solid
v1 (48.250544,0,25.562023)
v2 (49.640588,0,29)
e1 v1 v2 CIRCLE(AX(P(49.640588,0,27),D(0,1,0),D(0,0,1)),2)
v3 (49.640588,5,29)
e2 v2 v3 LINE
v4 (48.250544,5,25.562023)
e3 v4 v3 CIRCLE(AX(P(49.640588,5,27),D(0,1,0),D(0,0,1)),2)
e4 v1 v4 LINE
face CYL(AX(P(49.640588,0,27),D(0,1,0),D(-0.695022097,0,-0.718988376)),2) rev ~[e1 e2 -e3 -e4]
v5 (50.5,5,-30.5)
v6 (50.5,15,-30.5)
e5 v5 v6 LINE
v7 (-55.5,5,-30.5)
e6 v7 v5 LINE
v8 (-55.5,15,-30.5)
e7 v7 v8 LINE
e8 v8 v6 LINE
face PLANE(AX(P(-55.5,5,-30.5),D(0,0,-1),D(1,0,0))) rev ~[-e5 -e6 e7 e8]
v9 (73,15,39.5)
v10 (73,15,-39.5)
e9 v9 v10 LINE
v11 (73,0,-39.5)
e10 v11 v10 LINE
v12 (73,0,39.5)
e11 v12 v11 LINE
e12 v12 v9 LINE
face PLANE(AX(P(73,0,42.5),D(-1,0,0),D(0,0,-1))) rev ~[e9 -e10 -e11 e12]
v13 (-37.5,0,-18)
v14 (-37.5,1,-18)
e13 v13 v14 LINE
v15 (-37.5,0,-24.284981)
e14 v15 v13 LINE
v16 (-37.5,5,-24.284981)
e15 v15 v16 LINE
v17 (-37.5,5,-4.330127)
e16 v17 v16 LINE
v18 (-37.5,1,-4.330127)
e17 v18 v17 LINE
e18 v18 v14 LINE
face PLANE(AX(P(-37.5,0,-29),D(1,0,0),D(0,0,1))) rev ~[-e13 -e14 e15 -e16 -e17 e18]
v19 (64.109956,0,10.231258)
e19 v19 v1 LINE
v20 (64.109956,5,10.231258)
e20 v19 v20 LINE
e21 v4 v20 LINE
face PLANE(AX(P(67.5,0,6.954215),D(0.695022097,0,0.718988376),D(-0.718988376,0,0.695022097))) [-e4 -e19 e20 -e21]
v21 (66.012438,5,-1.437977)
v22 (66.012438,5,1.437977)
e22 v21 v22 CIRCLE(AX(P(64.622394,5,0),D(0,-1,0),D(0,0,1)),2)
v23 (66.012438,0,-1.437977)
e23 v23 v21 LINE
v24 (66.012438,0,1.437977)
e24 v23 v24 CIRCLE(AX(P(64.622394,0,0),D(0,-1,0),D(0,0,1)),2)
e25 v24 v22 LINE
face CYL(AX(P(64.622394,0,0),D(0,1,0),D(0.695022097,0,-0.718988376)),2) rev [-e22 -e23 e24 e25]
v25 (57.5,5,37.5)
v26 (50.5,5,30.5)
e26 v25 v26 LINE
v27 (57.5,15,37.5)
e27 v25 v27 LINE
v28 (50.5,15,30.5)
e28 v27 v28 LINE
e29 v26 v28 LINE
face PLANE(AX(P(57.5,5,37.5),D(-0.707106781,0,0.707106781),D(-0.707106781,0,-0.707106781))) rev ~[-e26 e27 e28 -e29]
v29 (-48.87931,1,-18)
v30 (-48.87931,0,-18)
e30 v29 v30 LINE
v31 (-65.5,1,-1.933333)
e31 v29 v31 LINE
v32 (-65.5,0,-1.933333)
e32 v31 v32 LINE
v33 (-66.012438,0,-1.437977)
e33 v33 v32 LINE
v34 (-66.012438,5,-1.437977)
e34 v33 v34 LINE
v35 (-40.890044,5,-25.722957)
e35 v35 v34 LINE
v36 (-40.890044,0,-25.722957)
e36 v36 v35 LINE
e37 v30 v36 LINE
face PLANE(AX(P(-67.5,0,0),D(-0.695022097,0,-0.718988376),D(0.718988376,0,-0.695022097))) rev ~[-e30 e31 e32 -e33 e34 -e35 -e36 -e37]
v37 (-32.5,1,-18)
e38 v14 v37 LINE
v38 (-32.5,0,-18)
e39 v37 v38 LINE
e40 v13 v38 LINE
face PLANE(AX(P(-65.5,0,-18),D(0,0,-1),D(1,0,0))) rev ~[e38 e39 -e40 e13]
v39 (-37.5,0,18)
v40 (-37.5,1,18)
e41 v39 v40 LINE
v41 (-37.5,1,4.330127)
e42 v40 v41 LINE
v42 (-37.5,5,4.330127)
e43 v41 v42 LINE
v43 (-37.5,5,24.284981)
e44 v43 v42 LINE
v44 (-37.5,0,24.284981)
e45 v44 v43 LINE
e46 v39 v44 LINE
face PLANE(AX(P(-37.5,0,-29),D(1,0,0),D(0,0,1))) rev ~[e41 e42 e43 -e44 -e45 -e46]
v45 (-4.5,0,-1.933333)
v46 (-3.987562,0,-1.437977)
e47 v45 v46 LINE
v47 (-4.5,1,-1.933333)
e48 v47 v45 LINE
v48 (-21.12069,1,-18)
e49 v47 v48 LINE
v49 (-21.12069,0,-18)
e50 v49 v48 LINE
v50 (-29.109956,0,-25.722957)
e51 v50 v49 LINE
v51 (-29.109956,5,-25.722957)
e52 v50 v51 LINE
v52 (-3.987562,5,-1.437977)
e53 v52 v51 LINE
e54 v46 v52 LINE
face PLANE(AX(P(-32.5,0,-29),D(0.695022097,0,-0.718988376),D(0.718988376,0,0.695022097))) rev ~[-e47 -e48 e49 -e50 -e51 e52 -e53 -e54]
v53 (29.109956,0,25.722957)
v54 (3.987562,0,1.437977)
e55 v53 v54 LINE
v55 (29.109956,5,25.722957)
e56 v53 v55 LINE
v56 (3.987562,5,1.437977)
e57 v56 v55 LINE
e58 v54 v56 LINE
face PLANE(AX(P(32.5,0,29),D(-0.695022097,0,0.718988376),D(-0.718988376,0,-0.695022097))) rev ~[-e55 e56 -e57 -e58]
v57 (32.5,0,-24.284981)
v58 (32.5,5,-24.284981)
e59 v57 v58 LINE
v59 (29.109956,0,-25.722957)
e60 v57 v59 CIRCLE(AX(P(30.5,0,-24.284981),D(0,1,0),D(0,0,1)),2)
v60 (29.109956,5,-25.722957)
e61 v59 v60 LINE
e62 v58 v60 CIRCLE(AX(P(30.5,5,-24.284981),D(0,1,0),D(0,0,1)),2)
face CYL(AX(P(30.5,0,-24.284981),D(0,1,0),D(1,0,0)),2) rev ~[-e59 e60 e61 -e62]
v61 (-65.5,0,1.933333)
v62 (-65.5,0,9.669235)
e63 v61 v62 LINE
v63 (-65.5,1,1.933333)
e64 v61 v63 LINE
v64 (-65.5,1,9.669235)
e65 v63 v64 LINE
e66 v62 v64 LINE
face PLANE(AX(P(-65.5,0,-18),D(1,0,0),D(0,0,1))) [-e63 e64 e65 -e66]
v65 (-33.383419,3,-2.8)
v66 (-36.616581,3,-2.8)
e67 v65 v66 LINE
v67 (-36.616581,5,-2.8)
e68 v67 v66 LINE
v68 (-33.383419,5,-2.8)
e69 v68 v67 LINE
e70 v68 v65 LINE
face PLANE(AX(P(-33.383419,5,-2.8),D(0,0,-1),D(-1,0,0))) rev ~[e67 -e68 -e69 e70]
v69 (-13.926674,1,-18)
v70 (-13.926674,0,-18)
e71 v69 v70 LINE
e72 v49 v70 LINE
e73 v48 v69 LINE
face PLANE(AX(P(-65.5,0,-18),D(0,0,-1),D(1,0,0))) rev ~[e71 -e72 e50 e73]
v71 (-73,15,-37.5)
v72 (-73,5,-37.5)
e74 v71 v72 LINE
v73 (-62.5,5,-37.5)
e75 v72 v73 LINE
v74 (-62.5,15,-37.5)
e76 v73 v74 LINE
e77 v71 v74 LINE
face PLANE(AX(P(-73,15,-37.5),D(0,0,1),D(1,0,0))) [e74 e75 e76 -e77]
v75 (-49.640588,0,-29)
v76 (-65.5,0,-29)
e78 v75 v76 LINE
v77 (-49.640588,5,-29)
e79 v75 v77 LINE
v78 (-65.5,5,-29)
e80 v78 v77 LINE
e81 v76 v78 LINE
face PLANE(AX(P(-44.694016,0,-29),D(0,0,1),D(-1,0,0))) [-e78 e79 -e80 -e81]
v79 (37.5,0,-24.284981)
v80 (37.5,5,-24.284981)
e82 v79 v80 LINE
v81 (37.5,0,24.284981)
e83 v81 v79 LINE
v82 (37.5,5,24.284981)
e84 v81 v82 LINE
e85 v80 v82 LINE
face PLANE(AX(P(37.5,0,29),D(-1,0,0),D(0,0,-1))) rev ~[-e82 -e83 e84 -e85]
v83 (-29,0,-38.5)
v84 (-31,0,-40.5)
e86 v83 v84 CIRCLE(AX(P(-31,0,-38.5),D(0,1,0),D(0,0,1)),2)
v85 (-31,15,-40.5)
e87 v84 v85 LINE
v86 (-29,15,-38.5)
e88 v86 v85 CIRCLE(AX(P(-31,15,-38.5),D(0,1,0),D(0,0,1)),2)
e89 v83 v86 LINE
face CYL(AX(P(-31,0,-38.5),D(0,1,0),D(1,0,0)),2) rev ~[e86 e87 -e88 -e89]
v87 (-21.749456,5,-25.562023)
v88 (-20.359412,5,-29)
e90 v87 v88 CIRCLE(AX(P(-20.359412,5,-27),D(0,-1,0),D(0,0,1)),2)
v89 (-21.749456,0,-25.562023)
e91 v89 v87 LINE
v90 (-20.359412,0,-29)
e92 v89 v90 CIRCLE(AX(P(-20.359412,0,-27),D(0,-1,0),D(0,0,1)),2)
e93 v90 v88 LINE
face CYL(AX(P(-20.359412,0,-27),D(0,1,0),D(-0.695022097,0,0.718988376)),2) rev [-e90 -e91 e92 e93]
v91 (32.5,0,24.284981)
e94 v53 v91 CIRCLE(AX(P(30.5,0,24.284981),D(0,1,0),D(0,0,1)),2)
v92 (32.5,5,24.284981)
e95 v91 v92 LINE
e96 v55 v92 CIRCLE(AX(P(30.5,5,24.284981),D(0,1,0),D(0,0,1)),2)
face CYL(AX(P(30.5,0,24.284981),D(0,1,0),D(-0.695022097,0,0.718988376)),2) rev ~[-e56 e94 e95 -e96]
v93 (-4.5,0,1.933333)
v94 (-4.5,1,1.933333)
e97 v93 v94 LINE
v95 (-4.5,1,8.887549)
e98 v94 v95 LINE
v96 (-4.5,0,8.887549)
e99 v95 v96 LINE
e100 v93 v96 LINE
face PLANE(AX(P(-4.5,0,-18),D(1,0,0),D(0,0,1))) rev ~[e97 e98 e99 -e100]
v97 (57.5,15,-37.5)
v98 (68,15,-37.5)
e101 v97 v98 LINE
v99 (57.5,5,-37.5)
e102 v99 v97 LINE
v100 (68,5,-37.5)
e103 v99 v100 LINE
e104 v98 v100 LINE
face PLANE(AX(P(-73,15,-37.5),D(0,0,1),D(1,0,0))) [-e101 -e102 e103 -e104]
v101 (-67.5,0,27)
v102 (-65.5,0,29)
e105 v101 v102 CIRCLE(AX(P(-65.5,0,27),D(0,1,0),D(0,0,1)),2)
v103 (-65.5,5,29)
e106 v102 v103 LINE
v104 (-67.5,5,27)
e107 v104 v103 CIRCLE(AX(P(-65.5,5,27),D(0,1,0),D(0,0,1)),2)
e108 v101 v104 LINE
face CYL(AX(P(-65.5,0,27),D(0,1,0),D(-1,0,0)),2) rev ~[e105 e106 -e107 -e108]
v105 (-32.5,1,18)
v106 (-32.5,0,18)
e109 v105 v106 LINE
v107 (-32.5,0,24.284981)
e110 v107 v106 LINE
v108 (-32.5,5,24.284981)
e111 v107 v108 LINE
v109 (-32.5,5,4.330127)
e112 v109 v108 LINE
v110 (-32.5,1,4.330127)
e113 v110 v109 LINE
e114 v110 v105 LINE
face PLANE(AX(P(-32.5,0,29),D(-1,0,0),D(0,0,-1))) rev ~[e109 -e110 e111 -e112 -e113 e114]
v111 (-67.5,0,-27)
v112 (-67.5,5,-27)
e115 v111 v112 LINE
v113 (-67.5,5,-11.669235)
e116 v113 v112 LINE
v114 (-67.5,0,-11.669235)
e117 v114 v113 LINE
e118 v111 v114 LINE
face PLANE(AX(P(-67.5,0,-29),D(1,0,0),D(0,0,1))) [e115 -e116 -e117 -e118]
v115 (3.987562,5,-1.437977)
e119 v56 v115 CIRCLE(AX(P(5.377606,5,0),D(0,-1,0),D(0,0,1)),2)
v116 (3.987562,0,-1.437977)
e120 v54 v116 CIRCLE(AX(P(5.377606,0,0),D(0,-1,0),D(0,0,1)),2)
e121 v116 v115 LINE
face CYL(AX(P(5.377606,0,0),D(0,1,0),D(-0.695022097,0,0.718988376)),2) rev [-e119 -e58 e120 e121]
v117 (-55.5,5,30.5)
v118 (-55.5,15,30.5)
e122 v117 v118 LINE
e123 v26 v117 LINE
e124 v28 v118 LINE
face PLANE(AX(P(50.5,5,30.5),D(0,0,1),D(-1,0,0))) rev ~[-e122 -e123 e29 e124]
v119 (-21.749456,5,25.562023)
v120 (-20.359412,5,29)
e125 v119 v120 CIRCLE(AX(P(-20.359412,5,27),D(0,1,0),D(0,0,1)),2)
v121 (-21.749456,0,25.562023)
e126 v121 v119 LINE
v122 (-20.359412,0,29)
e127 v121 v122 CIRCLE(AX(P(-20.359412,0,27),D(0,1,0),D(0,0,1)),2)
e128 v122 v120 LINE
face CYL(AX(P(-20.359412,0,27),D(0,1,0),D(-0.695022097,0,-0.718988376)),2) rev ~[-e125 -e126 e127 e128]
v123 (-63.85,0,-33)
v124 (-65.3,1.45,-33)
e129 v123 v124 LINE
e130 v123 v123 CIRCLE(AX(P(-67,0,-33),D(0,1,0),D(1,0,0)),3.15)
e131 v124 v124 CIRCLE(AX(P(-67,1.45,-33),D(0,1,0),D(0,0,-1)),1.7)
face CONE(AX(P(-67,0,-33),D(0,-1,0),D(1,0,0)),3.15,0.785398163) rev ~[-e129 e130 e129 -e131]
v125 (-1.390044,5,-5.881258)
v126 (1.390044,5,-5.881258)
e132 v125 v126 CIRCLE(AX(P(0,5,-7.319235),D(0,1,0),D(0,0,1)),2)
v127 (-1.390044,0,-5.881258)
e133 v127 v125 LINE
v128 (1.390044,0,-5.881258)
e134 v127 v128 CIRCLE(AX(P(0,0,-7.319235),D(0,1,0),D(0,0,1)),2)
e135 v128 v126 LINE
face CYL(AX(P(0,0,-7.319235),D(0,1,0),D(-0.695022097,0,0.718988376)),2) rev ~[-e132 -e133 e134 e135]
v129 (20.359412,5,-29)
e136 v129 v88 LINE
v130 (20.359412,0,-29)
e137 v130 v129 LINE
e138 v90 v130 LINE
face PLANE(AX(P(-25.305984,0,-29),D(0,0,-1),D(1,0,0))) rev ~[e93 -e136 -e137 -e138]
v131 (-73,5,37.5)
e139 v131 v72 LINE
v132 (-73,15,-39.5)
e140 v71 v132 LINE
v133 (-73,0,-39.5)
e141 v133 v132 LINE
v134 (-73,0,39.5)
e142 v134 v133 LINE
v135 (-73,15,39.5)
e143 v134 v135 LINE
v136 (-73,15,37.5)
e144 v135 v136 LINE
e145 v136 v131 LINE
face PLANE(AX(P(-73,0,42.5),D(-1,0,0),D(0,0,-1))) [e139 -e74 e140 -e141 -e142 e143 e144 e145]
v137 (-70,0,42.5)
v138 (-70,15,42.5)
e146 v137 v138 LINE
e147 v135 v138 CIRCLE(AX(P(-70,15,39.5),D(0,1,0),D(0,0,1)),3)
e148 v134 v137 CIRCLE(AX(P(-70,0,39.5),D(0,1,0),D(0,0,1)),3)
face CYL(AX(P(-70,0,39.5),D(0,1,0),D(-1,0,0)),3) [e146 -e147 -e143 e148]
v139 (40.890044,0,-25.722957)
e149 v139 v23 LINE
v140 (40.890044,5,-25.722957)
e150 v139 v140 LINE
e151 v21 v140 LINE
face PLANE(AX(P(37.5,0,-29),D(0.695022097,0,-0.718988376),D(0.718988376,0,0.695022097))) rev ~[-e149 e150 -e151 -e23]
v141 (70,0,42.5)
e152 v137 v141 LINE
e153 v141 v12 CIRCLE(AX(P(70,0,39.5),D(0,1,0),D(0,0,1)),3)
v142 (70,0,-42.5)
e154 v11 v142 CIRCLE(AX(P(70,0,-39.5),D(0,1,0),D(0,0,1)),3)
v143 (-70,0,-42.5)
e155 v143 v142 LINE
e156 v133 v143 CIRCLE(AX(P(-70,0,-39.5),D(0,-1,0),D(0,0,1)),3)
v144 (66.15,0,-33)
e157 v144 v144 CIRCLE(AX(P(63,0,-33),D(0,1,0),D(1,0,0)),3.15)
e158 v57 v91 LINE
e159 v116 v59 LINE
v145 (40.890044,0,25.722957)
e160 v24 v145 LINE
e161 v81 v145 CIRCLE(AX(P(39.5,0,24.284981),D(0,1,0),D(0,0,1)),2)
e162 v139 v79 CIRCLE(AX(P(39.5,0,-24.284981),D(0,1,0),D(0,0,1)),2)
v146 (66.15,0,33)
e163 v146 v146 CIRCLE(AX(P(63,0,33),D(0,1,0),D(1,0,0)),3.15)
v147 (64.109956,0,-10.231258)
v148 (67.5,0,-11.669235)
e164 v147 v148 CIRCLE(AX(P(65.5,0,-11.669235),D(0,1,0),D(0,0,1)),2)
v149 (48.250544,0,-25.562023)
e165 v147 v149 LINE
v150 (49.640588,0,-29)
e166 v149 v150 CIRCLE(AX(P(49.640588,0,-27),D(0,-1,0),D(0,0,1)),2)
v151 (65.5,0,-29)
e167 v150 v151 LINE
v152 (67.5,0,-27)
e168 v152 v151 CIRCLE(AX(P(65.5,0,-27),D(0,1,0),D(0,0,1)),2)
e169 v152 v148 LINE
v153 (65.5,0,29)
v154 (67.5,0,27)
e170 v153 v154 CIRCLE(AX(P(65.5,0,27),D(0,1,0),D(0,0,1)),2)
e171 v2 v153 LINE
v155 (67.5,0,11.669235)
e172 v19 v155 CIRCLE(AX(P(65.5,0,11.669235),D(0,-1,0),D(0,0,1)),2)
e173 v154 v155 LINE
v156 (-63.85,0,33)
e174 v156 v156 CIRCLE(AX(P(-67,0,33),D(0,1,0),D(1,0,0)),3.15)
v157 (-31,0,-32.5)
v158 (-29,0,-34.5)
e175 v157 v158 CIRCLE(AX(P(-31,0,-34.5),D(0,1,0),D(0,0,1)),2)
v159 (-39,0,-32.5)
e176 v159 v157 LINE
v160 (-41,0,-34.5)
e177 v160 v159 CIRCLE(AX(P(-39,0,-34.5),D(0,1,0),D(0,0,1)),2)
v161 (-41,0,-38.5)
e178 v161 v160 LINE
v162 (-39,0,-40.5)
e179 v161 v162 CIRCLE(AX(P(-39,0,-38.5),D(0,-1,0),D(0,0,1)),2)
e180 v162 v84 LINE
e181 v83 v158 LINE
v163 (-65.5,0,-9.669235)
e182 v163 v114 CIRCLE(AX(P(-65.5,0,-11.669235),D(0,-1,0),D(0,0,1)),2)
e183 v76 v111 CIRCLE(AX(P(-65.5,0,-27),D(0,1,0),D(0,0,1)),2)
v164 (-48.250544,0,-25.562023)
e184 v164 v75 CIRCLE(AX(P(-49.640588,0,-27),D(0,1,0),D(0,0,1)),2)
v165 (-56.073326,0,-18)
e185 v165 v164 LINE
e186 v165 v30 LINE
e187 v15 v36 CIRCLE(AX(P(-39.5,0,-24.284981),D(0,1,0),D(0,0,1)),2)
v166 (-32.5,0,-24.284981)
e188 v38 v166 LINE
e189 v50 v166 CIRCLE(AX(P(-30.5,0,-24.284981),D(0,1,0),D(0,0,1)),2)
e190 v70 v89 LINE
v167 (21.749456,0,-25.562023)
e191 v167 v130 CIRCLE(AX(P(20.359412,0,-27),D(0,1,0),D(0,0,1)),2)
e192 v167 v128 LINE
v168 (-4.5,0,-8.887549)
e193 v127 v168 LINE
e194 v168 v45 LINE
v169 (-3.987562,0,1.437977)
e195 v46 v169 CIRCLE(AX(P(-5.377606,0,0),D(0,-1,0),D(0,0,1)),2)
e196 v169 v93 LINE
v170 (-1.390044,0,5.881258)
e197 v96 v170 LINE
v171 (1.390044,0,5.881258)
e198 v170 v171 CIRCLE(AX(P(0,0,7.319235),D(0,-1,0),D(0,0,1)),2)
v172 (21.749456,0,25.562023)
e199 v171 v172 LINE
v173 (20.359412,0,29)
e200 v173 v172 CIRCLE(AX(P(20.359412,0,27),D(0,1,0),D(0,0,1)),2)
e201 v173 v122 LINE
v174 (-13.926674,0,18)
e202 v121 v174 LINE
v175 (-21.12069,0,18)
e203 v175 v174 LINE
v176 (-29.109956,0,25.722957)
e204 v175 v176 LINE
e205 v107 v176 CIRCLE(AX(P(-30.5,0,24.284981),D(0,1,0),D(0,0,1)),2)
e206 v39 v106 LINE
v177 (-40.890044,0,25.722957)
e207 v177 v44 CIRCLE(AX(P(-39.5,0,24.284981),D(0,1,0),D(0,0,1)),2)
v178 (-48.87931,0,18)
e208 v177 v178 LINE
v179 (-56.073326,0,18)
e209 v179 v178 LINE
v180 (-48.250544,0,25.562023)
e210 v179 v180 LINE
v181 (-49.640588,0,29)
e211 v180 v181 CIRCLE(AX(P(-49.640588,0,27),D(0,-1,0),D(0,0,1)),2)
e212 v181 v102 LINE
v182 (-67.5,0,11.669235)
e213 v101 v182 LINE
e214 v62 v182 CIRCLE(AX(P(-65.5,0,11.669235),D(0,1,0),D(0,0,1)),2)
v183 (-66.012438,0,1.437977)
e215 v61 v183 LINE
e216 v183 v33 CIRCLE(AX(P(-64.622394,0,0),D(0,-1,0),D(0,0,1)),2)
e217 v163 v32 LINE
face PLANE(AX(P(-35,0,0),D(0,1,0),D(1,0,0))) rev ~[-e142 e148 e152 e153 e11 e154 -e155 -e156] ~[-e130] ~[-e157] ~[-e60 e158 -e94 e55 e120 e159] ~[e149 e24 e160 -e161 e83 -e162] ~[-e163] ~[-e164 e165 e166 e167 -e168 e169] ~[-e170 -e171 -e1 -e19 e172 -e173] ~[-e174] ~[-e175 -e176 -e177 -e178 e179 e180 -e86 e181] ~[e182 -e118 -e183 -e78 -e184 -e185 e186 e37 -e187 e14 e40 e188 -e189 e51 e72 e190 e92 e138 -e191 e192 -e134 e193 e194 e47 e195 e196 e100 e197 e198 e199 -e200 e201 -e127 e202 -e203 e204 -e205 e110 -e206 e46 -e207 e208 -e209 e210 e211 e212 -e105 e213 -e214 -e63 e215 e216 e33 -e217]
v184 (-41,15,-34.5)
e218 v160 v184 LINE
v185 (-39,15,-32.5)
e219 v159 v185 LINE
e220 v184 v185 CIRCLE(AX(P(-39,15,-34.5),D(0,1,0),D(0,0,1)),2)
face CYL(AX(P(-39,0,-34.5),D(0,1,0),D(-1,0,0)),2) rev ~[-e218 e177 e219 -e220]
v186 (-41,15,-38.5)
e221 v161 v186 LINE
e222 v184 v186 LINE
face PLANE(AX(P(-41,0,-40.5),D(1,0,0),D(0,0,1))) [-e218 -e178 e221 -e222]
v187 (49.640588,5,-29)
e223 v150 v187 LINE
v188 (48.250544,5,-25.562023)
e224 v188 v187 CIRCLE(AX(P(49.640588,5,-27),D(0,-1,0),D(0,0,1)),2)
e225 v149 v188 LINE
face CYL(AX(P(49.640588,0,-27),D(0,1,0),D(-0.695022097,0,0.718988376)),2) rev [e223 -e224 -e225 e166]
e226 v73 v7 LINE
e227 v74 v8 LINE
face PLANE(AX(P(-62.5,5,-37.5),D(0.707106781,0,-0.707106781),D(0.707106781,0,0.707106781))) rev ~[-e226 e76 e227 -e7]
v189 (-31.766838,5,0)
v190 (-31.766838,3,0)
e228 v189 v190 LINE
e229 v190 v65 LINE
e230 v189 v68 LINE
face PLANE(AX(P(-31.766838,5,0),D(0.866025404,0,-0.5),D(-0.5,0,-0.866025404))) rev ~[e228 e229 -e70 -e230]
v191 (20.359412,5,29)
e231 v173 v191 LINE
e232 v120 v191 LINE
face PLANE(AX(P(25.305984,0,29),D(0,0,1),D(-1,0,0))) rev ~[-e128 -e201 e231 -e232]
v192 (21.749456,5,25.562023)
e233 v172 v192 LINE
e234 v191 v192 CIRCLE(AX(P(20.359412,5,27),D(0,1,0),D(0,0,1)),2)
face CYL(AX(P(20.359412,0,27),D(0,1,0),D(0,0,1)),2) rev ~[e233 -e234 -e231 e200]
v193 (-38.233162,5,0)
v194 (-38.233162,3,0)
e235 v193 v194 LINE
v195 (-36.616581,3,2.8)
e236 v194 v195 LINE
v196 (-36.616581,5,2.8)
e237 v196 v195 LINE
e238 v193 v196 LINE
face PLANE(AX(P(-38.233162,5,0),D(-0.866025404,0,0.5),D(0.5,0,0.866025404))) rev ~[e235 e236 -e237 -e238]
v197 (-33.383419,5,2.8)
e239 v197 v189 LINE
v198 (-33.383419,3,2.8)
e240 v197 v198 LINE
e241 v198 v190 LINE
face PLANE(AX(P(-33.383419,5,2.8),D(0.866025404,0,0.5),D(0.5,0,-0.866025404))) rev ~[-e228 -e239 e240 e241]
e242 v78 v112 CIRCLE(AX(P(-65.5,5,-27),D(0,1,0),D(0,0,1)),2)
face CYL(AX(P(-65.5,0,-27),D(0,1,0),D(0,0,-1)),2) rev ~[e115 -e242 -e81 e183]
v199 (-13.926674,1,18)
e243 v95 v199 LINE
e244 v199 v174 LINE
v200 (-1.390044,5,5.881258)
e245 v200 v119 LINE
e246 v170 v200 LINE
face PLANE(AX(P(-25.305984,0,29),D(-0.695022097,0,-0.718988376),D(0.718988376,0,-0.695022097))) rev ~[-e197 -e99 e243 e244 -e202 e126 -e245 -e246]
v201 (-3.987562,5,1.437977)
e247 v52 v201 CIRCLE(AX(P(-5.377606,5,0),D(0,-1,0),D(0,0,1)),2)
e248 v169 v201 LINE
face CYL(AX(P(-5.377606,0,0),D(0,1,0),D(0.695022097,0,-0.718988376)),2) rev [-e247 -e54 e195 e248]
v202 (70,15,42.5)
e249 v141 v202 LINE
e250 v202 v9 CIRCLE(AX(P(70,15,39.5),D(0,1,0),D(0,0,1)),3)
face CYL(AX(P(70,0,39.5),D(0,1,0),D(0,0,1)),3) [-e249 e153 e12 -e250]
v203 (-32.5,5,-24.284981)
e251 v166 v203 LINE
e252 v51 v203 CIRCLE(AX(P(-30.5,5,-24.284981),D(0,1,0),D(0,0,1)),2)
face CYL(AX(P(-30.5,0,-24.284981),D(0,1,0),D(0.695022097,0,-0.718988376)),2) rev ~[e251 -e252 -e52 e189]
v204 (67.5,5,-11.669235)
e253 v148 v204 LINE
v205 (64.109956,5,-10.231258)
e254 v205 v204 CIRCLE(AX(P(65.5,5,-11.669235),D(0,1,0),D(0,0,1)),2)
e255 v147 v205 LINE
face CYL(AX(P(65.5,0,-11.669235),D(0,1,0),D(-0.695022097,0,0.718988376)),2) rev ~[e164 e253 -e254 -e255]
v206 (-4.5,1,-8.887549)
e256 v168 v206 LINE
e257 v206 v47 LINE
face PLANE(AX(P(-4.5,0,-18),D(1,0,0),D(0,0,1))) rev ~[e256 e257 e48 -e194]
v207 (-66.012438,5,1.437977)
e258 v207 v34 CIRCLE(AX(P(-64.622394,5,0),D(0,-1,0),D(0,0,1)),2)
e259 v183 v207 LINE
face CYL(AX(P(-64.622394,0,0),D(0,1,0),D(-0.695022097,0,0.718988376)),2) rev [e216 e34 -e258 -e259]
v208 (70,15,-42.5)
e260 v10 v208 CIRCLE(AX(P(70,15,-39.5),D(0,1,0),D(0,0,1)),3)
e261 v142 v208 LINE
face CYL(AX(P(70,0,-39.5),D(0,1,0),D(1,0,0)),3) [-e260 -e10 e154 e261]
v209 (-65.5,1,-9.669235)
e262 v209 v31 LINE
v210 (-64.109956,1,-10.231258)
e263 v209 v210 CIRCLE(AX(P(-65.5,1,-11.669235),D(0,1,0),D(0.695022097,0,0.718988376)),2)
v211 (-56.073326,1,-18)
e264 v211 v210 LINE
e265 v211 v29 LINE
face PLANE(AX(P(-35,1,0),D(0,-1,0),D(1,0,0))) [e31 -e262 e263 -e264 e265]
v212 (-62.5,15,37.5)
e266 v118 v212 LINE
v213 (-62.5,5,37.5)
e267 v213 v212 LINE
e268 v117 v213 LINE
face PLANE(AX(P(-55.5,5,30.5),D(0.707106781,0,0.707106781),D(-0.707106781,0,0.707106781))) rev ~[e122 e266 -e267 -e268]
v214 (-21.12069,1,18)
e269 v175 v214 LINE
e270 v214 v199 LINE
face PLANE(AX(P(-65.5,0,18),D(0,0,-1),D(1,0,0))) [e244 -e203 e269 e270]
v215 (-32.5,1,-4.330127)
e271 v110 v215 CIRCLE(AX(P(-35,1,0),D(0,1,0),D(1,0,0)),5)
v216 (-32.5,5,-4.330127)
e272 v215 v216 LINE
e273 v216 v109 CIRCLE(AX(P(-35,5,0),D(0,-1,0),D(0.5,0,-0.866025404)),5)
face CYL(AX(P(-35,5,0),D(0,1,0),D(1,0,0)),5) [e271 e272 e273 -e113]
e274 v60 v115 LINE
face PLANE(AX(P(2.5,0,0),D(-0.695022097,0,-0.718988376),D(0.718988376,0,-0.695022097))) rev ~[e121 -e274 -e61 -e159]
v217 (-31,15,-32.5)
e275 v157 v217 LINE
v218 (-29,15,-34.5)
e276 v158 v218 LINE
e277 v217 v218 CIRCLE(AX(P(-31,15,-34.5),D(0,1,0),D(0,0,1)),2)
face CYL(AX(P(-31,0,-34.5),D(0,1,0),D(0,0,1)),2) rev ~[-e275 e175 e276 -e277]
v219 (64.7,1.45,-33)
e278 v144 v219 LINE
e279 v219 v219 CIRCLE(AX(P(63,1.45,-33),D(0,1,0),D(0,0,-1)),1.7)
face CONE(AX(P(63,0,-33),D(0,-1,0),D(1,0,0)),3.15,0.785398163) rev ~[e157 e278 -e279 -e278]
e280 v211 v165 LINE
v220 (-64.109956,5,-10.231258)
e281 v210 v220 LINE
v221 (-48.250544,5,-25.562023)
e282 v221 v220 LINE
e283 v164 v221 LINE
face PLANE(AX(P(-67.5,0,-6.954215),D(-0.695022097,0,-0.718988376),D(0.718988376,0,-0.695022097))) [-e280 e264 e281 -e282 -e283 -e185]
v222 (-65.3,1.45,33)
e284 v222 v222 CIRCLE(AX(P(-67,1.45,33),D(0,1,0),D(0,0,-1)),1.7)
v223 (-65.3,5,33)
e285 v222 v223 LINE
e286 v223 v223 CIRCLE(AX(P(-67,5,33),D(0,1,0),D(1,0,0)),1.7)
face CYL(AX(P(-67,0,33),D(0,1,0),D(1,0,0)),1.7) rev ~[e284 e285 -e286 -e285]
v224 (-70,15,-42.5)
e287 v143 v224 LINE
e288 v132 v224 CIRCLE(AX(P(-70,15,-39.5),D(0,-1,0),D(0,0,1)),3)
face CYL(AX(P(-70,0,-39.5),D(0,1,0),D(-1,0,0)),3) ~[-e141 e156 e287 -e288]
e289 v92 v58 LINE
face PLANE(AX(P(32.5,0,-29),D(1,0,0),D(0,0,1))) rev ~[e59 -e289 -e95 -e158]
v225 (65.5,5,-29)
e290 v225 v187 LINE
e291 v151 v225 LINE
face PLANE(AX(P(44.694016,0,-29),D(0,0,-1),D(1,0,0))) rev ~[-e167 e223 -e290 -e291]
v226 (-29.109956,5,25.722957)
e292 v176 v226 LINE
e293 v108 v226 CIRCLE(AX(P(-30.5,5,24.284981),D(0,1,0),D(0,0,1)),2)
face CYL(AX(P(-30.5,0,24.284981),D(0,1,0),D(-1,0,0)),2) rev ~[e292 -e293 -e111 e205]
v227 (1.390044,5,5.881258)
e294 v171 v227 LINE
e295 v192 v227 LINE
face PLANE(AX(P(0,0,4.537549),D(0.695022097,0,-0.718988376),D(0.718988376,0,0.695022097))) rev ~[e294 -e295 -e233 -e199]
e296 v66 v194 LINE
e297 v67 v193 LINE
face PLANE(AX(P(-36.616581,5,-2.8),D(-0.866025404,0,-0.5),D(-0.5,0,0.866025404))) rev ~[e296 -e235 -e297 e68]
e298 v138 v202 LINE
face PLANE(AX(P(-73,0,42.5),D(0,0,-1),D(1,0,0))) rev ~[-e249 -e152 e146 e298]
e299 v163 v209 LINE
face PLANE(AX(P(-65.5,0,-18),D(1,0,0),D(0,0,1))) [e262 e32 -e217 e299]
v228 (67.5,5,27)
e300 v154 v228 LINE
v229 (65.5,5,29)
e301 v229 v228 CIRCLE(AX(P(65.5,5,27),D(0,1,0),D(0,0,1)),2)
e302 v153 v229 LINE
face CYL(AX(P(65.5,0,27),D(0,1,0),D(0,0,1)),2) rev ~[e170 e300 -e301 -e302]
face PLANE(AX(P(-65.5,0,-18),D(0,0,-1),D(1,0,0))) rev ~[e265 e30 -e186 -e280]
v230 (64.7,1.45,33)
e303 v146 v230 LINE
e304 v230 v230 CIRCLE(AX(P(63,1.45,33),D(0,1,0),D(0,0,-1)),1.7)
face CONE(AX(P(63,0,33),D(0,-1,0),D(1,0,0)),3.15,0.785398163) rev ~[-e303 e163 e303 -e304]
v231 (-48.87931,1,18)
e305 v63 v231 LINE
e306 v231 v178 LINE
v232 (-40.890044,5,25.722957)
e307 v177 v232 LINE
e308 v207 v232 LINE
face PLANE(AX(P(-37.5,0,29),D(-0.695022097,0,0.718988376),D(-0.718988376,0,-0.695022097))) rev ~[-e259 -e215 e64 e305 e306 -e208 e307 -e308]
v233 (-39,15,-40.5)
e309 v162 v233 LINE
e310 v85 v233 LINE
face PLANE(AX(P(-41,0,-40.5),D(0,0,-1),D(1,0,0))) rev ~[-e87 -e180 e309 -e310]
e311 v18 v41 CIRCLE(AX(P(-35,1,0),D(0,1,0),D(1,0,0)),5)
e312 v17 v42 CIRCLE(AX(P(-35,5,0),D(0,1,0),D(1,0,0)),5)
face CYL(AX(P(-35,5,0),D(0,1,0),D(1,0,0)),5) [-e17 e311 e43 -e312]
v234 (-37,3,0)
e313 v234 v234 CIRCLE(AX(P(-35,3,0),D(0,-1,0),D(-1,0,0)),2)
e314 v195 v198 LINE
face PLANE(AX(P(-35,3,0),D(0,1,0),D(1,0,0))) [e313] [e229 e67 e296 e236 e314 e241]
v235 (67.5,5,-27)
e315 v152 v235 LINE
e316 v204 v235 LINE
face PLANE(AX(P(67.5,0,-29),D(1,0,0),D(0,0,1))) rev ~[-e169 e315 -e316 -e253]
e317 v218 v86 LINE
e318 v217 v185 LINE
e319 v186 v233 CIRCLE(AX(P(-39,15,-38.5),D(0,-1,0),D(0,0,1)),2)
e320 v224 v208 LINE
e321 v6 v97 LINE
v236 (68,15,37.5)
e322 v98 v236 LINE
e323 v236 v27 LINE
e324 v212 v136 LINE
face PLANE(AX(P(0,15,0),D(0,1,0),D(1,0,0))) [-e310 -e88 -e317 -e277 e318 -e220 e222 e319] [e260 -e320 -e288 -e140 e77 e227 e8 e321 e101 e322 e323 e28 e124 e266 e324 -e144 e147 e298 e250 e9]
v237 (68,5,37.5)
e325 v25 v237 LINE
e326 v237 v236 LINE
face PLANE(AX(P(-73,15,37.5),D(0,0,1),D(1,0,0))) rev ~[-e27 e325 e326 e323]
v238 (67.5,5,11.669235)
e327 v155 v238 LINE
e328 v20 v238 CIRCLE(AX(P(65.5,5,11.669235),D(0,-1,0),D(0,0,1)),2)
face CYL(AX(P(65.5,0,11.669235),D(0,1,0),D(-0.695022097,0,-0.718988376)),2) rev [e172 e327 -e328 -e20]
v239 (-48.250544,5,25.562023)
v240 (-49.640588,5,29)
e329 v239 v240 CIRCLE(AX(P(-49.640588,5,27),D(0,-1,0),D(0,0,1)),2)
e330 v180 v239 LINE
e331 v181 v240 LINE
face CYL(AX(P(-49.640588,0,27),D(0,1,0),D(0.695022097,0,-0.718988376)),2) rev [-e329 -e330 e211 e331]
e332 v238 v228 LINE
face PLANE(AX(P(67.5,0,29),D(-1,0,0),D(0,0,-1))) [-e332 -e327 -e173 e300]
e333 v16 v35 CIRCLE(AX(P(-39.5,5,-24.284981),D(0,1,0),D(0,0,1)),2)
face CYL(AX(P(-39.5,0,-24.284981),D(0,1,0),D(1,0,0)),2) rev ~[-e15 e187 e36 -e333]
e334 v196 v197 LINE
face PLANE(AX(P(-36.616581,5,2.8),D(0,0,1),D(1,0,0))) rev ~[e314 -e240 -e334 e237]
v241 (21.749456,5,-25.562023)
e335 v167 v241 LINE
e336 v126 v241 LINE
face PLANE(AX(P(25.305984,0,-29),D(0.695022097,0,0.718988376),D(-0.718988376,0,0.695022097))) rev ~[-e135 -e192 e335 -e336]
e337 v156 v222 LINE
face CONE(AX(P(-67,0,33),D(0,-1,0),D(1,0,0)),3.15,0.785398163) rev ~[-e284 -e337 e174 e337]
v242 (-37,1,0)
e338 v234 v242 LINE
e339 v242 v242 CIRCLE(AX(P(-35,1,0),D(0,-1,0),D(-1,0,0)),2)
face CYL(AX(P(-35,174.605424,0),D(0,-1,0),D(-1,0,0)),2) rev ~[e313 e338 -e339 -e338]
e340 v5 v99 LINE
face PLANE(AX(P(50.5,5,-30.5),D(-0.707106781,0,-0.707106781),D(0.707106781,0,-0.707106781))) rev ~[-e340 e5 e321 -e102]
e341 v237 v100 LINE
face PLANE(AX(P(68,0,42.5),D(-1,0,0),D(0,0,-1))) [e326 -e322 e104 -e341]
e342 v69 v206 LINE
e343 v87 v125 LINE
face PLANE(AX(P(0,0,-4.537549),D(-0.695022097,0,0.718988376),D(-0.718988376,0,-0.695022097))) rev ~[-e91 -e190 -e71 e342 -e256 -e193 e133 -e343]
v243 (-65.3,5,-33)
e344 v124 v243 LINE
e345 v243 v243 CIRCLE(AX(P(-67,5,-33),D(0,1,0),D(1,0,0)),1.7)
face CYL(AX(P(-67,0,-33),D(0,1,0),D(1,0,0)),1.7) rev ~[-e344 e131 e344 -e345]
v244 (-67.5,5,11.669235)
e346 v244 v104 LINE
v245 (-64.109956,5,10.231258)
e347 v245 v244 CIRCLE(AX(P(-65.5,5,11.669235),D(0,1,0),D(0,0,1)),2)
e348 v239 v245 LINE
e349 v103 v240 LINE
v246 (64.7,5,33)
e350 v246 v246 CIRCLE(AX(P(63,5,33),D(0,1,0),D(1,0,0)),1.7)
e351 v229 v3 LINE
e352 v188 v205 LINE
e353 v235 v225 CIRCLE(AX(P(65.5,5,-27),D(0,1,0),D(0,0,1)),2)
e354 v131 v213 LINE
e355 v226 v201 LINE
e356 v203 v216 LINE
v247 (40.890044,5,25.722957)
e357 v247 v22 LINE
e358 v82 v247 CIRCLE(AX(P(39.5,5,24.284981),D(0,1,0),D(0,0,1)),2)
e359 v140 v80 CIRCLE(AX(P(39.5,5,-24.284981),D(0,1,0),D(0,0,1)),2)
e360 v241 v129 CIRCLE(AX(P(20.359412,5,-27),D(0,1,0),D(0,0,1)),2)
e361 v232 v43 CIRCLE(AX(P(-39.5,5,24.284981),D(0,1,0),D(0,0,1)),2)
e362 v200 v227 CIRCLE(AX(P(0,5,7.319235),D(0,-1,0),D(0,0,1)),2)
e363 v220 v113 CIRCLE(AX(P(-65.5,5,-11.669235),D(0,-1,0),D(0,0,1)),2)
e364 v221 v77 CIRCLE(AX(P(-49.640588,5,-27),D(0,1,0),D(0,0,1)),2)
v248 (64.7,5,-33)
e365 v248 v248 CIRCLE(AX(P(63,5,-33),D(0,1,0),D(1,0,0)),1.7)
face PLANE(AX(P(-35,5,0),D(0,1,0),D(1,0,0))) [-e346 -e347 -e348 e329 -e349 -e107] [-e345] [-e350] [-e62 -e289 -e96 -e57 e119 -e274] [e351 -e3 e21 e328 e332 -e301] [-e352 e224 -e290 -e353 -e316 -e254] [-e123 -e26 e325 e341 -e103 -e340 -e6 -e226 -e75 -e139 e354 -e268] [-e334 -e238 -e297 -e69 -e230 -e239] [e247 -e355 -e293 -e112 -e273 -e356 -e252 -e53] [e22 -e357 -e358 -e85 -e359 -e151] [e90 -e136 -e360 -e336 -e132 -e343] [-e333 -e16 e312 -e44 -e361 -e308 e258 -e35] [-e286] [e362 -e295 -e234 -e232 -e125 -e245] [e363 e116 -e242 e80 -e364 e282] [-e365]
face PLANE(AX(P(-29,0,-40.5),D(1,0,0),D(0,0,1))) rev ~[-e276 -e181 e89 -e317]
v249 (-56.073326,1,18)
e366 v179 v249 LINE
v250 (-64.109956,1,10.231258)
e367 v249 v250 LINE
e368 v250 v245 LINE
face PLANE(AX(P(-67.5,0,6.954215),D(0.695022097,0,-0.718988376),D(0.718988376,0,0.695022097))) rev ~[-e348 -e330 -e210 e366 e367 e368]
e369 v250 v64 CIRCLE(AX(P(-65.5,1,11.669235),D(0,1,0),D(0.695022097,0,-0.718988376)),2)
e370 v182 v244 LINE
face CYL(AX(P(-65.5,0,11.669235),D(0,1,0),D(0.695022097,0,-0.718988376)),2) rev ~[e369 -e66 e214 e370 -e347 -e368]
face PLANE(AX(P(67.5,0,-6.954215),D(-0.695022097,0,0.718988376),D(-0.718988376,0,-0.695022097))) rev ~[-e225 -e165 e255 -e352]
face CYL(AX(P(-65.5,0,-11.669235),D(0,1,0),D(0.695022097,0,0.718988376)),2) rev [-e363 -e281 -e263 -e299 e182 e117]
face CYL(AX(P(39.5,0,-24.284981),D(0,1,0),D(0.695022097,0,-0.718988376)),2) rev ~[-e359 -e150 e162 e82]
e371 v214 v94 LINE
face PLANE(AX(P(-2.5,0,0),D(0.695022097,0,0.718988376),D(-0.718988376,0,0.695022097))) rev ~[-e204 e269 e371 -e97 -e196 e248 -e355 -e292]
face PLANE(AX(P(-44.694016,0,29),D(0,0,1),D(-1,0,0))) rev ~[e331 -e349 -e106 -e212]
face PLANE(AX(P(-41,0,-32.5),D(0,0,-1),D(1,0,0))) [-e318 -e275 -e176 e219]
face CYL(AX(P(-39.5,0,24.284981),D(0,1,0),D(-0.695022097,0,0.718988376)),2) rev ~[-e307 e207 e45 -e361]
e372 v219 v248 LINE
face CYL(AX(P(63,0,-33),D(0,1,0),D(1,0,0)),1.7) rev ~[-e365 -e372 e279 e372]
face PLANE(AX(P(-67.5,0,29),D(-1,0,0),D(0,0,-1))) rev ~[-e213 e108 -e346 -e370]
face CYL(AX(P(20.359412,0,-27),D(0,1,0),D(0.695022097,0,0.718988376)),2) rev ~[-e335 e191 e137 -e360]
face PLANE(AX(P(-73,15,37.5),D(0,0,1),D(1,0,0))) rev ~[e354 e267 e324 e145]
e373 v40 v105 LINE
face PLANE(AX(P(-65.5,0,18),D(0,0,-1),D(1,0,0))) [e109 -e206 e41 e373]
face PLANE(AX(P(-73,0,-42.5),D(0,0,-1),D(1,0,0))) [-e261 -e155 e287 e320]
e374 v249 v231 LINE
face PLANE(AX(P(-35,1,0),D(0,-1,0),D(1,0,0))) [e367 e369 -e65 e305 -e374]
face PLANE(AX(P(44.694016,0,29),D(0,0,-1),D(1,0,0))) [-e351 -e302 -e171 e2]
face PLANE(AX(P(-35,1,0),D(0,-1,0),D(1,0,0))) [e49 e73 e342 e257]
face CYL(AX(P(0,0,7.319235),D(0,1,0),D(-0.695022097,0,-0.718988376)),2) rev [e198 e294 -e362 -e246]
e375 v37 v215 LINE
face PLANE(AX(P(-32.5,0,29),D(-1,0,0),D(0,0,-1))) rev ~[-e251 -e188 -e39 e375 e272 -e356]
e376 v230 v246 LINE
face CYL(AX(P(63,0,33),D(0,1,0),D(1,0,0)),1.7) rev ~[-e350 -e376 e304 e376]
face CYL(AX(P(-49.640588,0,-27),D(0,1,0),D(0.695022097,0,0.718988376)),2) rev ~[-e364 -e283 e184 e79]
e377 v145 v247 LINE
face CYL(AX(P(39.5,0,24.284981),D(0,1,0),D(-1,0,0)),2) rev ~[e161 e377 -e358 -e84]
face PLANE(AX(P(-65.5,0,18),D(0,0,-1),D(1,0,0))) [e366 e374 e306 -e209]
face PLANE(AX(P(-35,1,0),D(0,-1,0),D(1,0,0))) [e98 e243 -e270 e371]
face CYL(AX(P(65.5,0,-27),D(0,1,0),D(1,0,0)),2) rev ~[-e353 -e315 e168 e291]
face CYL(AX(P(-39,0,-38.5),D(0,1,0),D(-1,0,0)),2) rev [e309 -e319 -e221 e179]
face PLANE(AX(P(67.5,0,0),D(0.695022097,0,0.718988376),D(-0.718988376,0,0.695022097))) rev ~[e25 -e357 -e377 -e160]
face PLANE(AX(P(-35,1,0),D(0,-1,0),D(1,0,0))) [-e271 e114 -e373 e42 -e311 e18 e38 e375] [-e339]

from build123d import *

# Parameters (mm, degrees)
SKETCH1_W                                       = 146
SKETCH1_H                                       = 85
BOSS_EXTRUDE1_DEPTH                             = 15
SHELL1_T                                        = -5
SKETCH2_W                                       = 5
SKETCH2_H                                       = 75
CUT_EXTRUDE1_DEPTH                              = 10
BOSS_EXTRUDE2_DEPTH                             = 10
CSK_FOR_M3_FLAT_HEAD_MACHINE_SCREW1_D           = 3.4
CSK_FOR_M3_FLAT_HEAD_MACHINE_SCREW1_DEPTH       = 10
CSK_FOR_M3_FLAT_HEAD_MACHINE_SCREW1_CSINK_D     = 6.3
CSK_FOR_M3_FLAT_HEAD_MACHINE_SCREW1_CSINK_ANGLE = 90
CSK_FOR_M3_FLAT_HEAD_MACHINE_SCREW1_TIP         = 1.021463052
FILLET1_R                                       = 3
CUT_EXTRUDE3_DEPTH                              = 10
FILLET2_R                                       = 2
SKETCH13_W                                      = 12
SKETCH13_H                                      = 8
CUT_EXTRUDE5_DEPTH                              = 86.791899384
FILLET3_R                                       = 2
SKETCH14_R                                      = 5
BOSS_EXTRUDE4_DEPTH                             = 5
F_4_0_4_DIAMETER_HOLE2_D                        = 4
CUT_EXTRUDE6_DEPTH                              = 2
SKETCH19_W                                      = 61
SKETCH19_H                                      = 36
CUT_EXTRUDE7_DEPTH                              = 1


with BuildPart() as part:
    # Sketch1 → Boss-Extrude1 (new body)
    with BuildSketch(Plane(origin=(0, 0, 0), x_dir=(1, 0, 0), z_dir=(0, 1, 0))):
        Rectangle(SKETCH1_W, SKETCH1_H)
    extrude(amount=BOSS_EXTRUDE1_DEPTH)

    # Shell1
    shell1_openings = [part.faces().sort_by_distance(p)[0] for p in [
        (0, 15, 0),
    ]]
    offset(amount=SHELL1_T, openings=shell1_openings, kind=Kind.INTERSECTION)

    # Sketch2 → Cut-Extrude1 (cut)
    with BuildSketch(Plane(origin=(0, 15, 0), x_dir=(1, 0, 0), z_dir=(0, 1, 0))):
        with Locations((-70.5, 0)):
            Rectangle(SKETCH2_W, SKETCH2_H)
    extrude(amount=-CUT_EXTRUDE1_DEPTH, mode=Mode.SUBTRACT)

    # Sketch3 → Boss-Extrude2 (add)
    with BuildSketch(Plane(origin=(0, 5, 0), x_dir=(1, 0, 0), z_dir=(0, 1, 0))):
        Polygon((-55.5, 30.5), (50.5, 30.5), (57.5, 37.5), (-62.5, 37.5), align=None)
        Polygon((-55.5, -30.5), (-62.5, -37.5), (57.5, -37.5), (50.5, -30.5), align=None)
    extrude(amount=BOSS_EXTRUDE2_DEPTH)

    # CSK for M3 Flat Head Machine Screw1
    with Locations(Plane(origin=(0, 0, 0), x_dir=(-1, 0, 0), z_dir=(0, -1, 0))):
        with Locations((-63, -33), (67, 33), (67, -33), (-63, 33)):
            CounterSinkHole(CSK_FOR_M3_FLAT_HEAD_MACHINE_SCREW1_D / 2, CSK_FOR_M3_FLAT_HEAD_MACHINE_SCREW1_CSINK_D / 2, depth=CSK_FOR_M3_FLAT_HEAD_MACHINE_SCREW1_DEPTH, counter_sink_angle=CSK_FOR_M3_FLAT_HEAD_MACHINE_SCREW1_CSINK_ANGLE)
            with Locations((0, 0, -(CSK_FOR_M3_FLAT_HEAD_MACHINE_SCREW1_DEPTH + CSK_FOR_M3_FLAT_HEAD_MACHINE_SCREW1_TIP / 2))):  # 118° drill point
                Cone(0, CSK_FOR_M3_FLAT_HEAD_MACHINE_SCREW1_D / 2, CSK_FOR_M3_FLAT_HEAD_MACHINE_SCREW1_TIP, mode=Mode.SUBTRACT)

    # Fillet1
    fillet1_edges = [part.edges().sort_by_distance(p)[0] for p in [
        (-73, 7.5, -42.5),
        (73, 7.5, -42.5),
        (73, 7.5, 42.5),
        (-73, 7.5, 42.5),
    ]]
    fillet(fillet1_edges, radius=FILLET1_R)

    # Sketch8 → Cut-Extrude3 (cut)
    with BuildSketch(Plane.XZ):
        Polygon((67.5, 0), (37.5, 29), (37.5, -29), align=None)
        Polygon((0, 4.537548682), (25.305984122, 29), (-25.305984122, 29), align=None)
        Polygon((2.5, 0), (32.5, -29), (32.5, 29), align=None)
        Polygon((-2.5, 0), (-32.5, 29), (-32.5, -29), align=None)
        Polygon((-67.5, 0), (-37.5, -29), (-37.5, 29), align=None)
        Polygon((-44.694015878, 29), (-67.5, 29), (-67.5, 6.954215348), align=None)
        Polygon((67.5, 6.954215348), (44.694015878, 29), (67.5, 29), align=None)
        Polygon((44.694015878, -29), (67.5, -29), (67.5, -6.954215348), align=None)
        Polygon((-67.5, -6.954215348), (-44.694015878, -29), (-67.5, -29), align=None)
        Polygon((-25.305984122, -29), (25.305984122, -29), (0, -4.537548682), align=None)
    extrude(amount=-CUT_EXTRUDE3_DEPTH, mode=Mode.SUBTRACT)

    # Fillet2
    fillet2_edges = [part.edges().sort_by_distance(p)[0] for p in [
        (-67.5, 2.5, 0),
        (-37.5, 2.5, 29),
        (-37.5, 2.5, -29),
        (0, 2.5, 4.537548682),
        (-25.305984122, 2.5, 29),
        (25.305984122, 2.5, 29),
        (44.694015878, 2.5, -29),
        (67.5, 2.5, -6.954215348),
        (67.5, 2.5, -29),
        (-67.5, 2.5, -29),
        (-67.5, 2.5, -6.954215348),
        (-44.694015878, 2.5, -29),
        (67.5, 2.5, 29),
        (67.5, 2.5, 6.954215348),
        (44.694015878, 2.5, 29),
        (-44.694015878, 2.5, 29),
        (-67.5, 2.5, 6.954215348),
        (-67.5, 2.5, 29),
        (-2.5, 2.5, 0),
        (-32.5, 2.5, -29),
        (-32.5, 2.5, 29),
        (2.5, 2.5, 0),
        (32.5, 2.5, 29),
        (32.5, 2.5, -29),
        (-25.305984122, 2.5, -29),
        (0, 2.5, -4.537548682),
        (25.305984122, 2.5, -29),
        (67.5, 2.5, 0),
        (37.5, 2.5, -29),
        (37.5, 2.5, 29),
    ]]
    fillet(fillet2_edges, radius=FILLET2_R)

    # Sketch13 → Cut-Extrude5 (cut, through all)
    with BuildSketch(Plane.XZ):
        with Locations((-35, -36.5)):
            Rectangle(SKETCH13_W, SKETCH13_H)
    extrude(amount=-CUT_EXTRUDE5_DEPTH, mode=Mode.SUBTRACT)

    # Fillet3
    fillet3_edges = [part.edges().sort_by_distance(p)[0] for p in [
        (-41, 7.5, -40.5),
        (-41, 7.5, -32.5),
        (-29, 7.5, -32.5),
        (-29, 7.5, -40.5),
    ]]
    fillet(fillet3_edges, radius=FILLET3_R)

    # Sketch14 → Boss-Extrude4 (add, through all)
    with BuildSketch(Plane(origin=(0, 5, 0), x_dir=(1, 0, 0), z_dir=(0, 1, 0))):
        with Locations((-35, 0)):
            Circle(SKETCH14_R)
    extrude(amount=-BOSS_EXTRUDE4_DEPTH)

    # Ø4.0 (4) Diameter Hole2 (through all)
    with Locations(Plane(origin=(0, 5, 0), x_dir=(1, 0, 0), z_dir=(0, 1, 0))):
        with Locations((-35, 0)):
            Hole(F_4_0_4_DIAMETER_HOLE2_D / 2)

    # Sketch17 → Cut-Extrude6 (cut)
    with BuildSketch(Plane(origin=(0, 5, 0), x_dir=(1, 0, 0), z_dir=(0, 1, 0))):
        Polygon((-31.766838493, 0), (-33.383419246, 2.8), (-36.616580754, 2.8), (-38.233161507, 0), (-36.616580754, -2.8), (-33.383419246, -2.8), align=None)
    extrude(amount=-CUT_EXTRUDE6_DEPTH, mode=Mode.SUBTRACT)

    # Sketch19 → Cut-Extrude7 (cut)
    with BuildSketch(Plane.XZ):
        with Locations((-35, 0)):
            Rectangle(SKETCH19_W, SKETCH19_H)
    extrude(amount=-CUT_EXTRUDE7_DEPTH, mode=Mode.SUBTRACT)


solid = part.part
